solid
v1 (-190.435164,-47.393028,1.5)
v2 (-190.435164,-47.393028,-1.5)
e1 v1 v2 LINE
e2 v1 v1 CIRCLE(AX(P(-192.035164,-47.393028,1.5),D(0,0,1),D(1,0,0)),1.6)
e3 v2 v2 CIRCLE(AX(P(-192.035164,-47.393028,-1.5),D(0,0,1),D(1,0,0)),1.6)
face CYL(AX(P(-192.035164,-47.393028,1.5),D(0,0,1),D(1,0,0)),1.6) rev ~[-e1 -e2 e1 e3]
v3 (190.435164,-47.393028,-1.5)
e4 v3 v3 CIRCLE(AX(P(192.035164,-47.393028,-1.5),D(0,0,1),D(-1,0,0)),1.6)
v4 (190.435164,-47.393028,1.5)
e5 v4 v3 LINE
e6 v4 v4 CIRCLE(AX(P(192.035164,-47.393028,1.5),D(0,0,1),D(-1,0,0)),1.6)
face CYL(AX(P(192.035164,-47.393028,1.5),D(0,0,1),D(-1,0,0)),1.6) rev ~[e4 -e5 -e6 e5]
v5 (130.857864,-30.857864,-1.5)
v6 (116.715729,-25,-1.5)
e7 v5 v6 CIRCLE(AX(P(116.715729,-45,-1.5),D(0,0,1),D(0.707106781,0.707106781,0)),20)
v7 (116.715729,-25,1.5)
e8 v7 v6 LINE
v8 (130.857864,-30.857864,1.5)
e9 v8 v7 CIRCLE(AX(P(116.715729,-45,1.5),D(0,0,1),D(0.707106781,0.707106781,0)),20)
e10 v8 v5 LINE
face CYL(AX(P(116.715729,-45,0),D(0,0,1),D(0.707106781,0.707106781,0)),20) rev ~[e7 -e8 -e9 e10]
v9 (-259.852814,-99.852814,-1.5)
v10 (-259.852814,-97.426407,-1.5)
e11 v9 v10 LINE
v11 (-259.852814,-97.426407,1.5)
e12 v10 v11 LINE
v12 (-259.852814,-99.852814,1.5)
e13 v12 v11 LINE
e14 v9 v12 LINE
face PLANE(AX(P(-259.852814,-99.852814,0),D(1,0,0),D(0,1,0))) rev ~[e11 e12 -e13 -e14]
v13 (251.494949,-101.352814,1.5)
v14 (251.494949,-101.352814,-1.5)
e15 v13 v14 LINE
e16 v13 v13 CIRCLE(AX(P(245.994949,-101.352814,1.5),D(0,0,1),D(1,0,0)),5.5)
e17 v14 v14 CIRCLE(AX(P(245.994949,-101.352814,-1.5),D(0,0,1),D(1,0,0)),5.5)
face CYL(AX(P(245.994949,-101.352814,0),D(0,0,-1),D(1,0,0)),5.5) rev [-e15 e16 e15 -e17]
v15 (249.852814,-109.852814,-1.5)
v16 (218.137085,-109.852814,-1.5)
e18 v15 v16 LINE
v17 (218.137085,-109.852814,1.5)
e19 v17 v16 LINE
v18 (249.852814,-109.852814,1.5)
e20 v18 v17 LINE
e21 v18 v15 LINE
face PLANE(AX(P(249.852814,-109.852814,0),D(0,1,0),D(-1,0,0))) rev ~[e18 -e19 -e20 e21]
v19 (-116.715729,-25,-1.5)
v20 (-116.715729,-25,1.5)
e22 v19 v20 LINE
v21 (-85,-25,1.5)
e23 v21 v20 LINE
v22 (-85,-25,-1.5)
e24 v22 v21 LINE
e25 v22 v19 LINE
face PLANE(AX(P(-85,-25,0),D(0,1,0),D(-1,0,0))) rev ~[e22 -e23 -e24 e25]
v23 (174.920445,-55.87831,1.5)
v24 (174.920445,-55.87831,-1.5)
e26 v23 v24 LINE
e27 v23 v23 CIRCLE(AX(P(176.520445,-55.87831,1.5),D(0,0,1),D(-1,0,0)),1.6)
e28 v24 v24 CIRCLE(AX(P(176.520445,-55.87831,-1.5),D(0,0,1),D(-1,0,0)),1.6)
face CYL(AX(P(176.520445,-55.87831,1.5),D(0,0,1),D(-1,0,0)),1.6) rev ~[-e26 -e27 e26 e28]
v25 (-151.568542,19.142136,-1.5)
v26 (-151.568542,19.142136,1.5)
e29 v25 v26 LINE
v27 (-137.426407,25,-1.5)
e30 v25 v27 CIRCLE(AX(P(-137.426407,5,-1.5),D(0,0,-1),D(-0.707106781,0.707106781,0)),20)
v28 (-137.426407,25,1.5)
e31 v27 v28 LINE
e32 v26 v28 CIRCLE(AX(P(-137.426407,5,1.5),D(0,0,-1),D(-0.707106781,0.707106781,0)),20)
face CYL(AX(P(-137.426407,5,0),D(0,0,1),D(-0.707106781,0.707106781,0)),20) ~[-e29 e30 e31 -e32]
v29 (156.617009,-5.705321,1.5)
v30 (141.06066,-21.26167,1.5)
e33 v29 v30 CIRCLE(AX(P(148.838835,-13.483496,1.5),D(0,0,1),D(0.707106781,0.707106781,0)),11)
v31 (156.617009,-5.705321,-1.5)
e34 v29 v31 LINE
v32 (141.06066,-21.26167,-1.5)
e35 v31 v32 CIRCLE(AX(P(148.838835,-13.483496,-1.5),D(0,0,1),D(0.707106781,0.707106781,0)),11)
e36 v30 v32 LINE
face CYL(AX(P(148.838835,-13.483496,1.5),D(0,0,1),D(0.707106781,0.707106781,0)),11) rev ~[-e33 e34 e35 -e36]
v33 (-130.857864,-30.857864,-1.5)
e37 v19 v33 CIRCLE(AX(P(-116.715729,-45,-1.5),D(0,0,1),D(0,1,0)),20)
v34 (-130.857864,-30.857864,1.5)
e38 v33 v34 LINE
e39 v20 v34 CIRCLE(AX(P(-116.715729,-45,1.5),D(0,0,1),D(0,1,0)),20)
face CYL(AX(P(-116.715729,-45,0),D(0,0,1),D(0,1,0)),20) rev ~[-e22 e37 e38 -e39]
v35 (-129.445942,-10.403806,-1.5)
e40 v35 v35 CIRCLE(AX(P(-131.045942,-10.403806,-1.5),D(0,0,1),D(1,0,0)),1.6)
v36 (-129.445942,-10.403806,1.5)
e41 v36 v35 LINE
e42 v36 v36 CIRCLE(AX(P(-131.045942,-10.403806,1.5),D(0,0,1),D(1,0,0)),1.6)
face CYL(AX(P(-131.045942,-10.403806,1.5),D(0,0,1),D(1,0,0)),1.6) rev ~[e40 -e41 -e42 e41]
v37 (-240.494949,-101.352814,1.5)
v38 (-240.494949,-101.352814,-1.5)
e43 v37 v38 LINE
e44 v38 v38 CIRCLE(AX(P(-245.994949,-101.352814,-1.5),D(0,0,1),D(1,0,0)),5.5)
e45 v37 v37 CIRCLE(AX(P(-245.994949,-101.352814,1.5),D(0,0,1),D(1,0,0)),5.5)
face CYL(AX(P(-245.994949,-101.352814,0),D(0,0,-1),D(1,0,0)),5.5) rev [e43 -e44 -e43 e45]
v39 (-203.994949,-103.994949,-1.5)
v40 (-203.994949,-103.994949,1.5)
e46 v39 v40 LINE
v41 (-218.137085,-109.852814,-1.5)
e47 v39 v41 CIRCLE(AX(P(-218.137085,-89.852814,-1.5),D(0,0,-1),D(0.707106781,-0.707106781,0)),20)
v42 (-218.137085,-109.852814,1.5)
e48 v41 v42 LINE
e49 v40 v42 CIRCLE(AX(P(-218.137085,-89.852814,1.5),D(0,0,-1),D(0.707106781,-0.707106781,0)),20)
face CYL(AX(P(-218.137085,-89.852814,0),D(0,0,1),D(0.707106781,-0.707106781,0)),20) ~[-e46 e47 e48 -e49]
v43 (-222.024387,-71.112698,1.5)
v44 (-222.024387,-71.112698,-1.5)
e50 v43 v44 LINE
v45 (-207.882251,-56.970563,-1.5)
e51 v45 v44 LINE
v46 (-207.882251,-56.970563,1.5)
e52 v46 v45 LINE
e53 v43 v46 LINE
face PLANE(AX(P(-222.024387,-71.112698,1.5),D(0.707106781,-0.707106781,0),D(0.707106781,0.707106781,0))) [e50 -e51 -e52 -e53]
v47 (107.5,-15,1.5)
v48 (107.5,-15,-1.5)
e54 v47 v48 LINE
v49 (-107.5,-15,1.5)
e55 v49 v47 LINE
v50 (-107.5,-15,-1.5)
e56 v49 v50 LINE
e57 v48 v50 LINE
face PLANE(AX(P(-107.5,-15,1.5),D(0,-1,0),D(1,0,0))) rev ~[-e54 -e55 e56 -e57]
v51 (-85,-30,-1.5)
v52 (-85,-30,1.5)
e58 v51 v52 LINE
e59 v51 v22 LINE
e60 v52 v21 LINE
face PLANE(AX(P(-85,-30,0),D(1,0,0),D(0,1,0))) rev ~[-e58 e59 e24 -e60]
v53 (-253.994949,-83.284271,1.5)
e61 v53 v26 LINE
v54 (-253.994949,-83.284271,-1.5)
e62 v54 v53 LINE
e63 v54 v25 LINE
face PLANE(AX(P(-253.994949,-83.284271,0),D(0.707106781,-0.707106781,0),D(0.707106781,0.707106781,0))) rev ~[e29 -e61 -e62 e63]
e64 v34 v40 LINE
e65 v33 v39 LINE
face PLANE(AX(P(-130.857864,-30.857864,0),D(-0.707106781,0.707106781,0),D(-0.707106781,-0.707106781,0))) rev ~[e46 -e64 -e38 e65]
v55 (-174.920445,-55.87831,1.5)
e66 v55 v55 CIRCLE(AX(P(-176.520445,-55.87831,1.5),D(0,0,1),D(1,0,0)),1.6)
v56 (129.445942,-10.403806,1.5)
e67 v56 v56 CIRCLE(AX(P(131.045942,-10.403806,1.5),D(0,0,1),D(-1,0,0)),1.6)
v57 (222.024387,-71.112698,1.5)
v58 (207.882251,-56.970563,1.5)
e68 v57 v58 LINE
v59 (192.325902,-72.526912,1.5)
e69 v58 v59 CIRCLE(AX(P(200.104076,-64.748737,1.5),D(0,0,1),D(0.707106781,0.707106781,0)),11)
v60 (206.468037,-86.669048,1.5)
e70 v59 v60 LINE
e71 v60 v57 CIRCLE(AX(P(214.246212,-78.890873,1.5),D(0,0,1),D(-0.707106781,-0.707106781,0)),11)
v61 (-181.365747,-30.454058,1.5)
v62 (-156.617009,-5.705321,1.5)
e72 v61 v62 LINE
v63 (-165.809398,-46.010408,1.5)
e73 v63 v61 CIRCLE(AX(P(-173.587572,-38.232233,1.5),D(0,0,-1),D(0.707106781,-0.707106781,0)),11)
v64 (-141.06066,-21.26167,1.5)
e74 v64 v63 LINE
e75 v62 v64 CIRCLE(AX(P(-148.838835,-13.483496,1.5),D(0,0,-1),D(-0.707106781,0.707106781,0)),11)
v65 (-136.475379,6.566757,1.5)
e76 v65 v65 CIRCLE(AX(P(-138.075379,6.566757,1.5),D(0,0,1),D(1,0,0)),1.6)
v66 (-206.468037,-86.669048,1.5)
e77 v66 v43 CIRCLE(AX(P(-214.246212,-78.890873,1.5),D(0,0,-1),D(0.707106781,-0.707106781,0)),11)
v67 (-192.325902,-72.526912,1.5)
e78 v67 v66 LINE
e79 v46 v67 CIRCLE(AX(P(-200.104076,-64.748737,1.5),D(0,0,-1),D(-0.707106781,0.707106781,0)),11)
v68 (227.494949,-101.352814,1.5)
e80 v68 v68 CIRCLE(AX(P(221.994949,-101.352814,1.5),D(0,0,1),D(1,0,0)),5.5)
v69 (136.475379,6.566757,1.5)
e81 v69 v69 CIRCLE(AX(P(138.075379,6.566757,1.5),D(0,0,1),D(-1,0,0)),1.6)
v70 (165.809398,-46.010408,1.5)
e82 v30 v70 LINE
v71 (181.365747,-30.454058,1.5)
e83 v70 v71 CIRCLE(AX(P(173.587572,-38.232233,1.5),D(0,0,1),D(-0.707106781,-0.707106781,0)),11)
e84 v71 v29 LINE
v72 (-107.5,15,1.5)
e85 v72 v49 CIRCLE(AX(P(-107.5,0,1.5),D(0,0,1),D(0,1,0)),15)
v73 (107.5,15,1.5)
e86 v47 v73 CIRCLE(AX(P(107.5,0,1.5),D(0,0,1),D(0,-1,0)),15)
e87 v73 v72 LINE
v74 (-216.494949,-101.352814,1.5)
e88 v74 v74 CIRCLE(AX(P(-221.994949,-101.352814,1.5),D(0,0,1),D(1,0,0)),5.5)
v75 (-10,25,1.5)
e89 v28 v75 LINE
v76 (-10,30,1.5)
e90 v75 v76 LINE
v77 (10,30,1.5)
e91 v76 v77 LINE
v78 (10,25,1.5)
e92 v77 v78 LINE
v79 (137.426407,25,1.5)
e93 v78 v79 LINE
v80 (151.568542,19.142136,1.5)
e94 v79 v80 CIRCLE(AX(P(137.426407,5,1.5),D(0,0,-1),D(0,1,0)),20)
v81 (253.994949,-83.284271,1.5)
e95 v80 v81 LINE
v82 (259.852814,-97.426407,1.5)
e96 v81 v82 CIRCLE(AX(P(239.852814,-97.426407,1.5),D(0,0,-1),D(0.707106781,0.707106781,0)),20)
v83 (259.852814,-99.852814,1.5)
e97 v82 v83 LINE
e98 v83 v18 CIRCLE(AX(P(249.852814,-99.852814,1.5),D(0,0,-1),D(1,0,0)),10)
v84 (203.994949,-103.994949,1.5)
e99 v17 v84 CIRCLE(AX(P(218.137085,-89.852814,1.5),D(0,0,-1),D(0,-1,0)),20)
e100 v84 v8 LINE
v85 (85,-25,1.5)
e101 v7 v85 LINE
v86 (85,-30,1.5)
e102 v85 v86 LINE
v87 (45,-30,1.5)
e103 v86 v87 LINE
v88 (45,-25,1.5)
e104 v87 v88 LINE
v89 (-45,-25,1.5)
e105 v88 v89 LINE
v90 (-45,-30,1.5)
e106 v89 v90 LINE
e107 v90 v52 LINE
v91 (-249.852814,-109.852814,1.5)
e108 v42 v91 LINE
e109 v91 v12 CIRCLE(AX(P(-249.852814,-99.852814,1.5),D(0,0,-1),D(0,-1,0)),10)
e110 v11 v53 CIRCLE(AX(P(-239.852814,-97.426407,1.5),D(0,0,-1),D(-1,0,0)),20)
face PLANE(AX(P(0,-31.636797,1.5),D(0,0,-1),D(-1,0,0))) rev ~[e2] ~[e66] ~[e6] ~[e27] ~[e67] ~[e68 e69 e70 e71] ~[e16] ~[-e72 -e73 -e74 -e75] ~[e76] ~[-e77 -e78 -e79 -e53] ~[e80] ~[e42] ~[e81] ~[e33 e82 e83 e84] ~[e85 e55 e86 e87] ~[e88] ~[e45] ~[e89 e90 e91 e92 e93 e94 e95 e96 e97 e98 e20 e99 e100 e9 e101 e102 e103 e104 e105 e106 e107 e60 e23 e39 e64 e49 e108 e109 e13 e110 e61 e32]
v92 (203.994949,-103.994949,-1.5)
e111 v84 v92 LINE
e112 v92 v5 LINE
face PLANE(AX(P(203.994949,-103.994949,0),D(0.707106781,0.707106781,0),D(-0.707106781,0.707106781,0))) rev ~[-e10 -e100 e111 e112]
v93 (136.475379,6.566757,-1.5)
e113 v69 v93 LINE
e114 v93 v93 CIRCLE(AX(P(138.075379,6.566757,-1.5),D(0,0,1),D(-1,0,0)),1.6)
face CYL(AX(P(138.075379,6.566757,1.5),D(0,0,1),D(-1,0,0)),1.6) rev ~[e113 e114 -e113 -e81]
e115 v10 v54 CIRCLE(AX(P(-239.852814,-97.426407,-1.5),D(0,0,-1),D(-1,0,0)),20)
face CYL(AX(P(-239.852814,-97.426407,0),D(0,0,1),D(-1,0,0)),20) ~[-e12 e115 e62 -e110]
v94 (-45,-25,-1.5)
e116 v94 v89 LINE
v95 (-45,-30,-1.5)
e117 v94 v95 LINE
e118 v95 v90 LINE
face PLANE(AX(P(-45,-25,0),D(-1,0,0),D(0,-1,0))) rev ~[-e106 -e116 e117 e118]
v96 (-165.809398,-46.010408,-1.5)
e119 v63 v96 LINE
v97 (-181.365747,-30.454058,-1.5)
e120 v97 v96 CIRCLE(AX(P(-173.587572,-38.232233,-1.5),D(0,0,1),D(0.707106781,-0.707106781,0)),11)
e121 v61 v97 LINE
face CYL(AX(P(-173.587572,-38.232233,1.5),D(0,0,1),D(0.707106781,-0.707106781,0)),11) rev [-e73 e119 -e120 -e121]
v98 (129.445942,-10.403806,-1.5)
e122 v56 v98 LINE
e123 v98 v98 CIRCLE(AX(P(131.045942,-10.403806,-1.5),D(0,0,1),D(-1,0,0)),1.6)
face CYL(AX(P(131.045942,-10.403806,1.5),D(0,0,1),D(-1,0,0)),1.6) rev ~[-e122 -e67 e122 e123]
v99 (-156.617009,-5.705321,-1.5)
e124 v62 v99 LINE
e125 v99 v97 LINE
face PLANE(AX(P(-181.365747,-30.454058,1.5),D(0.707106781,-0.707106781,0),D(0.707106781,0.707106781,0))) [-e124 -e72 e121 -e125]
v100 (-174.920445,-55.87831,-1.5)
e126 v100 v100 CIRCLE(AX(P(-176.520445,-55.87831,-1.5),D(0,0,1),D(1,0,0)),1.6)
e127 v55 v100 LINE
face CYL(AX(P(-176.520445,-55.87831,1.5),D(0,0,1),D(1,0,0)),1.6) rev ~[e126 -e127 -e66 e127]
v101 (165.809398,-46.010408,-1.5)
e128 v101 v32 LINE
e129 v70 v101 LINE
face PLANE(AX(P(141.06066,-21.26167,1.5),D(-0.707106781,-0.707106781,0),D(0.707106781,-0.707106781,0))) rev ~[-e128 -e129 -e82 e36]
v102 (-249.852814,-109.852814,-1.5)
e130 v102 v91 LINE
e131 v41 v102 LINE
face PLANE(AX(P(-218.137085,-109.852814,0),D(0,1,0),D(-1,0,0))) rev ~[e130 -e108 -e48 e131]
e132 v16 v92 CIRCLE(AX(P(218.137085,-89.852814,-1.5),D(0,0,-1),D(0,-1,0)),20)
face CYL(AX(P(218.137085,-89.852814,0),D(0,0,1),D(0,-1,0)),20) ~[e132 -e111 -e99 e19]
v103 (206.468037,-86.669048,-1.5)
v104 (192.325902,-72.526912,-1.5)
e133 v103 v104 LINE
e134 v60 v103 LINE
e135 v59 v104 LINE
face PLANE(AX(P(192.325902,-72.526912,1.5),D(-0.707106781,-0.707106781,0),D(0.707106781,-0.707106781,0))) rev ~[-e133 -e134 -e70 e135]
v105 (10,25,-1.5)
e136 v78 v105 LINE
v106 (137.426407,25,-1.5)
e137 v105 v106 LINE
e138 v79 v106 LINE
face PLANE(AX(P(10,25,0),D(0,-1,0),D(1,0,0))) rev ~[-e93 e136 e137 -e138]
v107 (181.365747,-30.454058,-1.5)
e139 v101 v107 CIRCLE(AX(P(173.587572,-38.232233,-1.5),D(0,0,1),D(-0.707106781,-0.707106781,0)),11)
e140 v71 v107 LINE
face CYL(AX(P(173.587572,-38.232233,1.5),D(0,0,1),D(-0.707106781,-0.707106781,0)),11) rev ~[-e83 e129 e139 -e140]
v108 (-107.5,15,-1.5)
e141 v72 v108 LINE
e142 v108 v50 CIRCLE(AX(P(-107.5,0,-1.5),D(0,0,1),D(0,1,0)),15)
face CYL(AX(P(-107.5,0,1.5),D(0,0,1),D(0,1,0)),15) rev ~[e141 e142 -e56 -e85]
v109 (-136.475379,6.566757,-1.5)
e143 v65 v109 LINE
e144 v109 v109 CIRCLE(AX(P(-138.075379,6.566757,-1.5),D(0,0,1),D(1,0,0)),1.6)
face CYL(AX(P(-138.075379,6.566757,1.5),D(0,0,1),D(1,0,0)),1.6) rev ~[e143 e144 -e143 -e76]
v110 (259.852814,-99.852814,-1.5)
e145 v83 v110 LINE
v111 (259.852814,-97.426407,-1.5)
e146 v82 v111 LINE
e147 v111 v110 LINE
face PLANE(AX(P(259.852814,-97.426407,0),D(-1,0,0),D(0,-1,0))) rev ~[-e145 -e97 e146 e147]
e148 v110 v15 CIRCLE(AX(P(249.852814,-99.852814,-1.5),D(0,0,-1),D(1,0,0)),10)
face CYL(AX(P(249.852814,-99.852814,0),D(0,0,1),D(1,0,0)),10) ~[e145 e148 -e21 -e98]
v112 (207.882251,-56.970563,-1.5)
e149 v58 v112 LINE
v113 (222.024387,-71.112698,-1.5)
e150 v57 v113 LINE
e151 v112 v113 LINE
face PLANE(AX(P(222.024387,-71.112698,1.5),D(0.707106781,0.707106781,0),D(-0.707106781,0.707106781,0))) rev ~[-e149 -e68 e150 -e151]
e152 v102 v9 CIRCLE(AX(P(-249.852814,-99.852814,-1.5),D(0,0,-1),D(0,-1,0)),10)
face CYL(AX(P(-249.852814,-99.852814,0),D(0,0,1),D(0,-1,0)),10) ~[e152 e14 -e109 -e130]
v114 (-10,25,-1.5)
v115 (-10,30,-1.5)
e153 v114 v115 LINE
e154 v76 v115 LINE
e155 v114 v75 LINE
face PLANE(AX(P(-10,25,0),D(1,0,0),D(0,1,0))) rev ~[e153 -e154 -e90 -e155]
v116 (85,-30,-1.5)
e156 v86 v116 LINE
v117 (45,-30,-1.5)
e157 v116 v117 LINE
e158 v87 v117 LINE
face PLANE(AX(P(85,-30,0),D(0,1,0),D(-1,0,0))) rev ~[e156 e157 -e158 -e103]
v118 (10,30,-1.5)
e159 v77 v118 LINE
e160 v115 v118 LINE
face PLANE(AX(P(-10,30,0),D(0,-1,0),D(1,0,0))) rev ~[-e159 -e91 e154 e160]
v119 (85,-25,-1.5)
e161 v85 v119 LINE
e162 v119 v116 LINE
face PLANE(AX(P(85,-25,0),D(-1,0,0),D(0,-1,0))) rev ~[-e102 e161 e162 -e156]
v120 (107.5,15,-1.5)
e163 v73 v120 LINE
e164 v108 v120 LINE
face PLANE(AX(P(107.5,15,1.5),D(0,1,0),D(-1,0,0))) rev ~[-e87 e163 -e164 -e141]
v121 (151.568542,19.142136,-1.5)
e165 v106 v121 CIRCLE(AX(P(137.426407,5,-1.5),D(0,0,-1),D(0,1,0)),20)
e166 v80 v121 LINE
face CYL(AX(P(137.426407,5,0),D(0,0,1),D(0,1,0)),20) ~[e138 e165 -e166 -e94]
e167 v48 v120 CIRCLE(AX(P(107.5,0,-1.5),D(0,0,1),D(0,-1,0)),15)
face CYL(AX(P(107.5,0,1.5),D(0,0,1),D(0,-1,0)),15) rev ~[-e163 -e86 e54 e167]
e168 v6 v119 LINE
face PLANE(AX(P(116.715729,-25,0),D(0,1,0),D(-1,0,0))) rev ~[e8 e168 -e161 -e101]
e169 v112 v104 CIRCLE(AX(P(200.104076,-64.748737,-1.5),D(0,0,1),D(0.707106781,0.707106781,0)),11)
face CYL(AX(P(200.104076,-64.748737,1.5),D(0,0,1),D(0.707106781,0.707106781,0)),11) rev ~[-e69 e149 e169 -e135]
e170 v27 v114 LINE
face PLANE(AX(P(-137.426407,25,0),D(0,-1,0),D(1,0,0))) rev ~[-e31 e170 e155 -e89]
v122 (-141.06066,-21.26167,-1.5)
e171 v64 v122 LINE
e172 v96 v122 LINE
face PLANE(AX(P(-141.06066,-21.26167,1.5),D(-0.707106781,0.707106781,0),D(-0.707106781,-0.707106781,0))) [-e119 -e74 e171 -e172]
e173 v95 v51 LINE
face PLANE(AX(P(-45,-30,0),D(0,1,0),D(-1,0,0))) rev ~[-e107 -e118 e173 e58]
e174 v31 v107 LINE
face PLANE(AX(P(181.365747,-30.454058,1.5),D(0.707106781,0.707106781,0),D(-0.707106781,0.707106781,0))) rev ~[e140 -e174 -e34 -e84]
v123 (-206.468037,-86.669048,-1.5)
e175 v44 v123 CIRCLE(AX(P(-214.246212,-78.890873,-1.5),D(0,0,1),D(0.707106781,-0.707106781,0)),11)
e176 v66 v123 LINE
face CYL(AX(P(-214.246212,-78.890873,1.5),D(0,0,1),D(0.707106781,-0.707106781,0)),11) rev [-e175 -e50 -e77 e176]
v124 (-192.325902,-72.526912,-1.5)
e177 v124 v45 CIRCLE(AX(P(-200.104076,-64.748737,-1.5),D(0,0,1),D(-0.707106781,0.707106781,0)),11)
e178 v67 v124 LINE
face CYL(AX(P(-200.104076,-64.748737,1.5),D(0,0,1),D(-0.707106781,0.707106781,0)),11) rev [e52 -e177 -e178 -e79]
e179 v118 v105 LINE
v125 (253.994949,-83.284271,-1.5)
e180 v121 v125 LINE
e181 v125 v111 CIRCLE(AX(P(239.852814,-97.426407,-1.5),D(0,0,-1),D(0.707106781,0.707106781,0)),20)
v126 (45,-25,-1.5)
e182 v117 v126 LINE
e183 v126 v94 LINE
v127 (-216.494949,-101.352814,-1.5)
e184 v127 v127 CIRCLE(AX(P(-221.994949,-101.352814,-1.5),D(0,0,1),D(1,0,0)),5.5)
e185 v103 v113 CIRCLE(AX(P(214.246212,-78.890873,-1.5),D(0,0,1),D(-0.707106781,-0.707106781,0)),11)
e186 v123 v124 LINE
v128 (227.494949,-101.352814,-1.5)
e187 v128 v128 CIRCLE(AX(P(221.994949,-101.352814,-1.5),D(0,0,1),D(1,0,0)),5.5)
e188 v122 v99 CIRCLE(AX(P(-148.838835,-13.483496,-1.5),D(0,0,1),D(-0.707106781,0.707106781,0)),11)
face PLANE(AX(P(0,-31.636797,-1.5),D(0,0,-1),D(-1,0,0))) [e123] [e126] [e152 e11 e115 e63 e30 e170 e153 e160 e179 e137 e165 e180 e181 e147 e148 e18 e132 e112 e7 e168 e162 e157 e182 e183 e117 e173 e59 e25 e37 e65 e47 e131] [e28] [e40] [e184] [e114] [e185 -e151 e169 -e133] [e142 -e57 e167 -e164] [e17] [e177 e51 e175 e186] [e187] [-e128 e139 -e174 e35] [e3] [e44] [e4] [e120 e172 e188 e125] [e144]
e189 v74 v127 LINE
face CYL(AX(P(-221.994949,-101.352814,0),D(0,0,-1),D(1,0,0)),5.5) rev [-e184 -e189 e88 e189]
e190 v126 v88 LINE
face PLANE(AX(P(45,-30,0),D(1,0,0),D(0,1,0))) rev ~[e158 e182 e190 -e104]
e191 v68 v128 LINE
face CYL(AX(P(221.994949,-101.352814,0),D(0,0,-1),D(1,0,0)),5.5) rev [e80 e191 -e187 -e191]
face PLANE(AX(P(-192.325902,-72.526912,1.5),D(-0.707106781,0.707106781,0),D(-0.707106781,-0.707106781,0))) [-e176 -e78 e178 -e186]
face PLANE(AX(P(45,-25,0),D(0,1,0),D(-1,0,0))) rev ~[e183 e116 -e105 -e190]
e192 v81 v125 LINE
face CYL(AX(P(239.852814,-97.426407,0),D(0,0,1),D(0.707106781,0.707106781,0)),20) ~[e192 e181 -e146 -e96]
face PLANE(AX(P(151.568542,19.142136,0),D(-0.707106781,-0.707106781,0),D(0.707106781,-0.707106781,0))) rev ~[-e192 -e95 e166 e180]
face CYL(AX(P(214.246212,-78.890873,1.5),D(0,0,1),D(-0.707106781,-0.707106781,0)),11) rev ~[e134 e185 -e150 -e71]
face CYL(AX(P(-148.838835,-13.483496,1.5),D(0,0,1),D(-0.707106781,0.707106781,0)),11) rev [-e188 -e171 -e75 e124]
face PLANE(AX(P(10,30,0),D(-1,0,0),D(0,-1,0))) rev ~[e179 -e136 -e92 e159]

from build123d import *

# Parameters (mm, degrees)
SKETCH_1_R          = 5.5
EXTRUDE_1_DEPTH     = 1.5
CUT_EXTRUDE_6_DEPTH = 283.134941999
SKETCH_2_5_R        = 1.6
CUT_EXTRUDE_7_DEPTH = 283.134941999


with BuildPart() as part:
    # 草图1 → 凸台-拉伸1 (new, symmetric)
    with BuildSketch(Plane.XY):
        with BuildLine():
            Line((-10, 25), (-125, 25))
            Line((-125, 25), (-137.426406871, 25))
            ThreePointArc((-137.426406871, 25), (-145.080075518, 23.47759065), (-151.568542495, 19.142135624))
            Line((-151.568542495, 19.142135624), (-202.781745931, -32.071067812))
            Line((-202.781745931, -32.071067812), (-253.994949366, -83.284271247))
            ThreePointArc((-253.994949366, -83.284271247), (-258.330404393, -89.772738224), (-259.852813742, -97.426406871))
            Line((-259.852813742, -97.426406871), (-259.852813742, -99.852813742))
            ThreePointArc((-259.852813742, -99.852813742), (-256.923881554, -106.923881554), (-249.852813742, -109.852813742))
            Line((-249.852813742, -109.852813742), (-245.994949366, -109.852813742))
            Line((-245.994949366, -109.852813742), (-233.994949366, -109.852813742))
            Line((-233.994949366, -109.852813742), (-218.13708499, -109.852813742))
            ThreePointArc((-218.13708499, -109.852813742), (-210.483416343, -108.330404393), (-203.994949366, -103.994949366))
            Line((-203.994949366, -103.994949366), (-130.857864376, -30.857864376))
            ThreePointArc((-130.857864376, -30.857864376), (-124.3693974, -26.52240935), (-116.715728753, -25))
            Line((-116.715728753, -25), (-85, -25))
            Line((-85, -25), (-85, -30))
            Line((-85, -30), (-65, -30))
            Line((-65, -30), (-45, -30))
            Line((-45, -30), (-45, -25))
            Line((-45, -25), (0, -25))
            Line((0, -25), (45, -25))
            Line((45, -25), (45, -30))
            Line((45, -30), (65, -30))
            Line((65, -30), (85, -30))
            Line((85, -30), (85, -25))
            Line((85, -25), (116.715728753, -25))
            ThreePointArc((116.715728753, -25), (124.3693974, -26.52240935), (130.857864376, -30.857864376))
            Line((130.857864376, -30.857864376), (203.994949366, -103.994949366))
            ThreePointArc((203.994949366, -103.994949366), (210.483416343, -108.330404393), (218.13708499, -109.852813742))
            Line((218.13708499, -109.852813742), (249.852813742, -109.852813742))
            ThreePointArc((249.852813742, -109.852813742), (256.923881554, -106.923881554), (259.852813742, -99.852813742))
            Line((259.852813742, -99.852813742), (259.852813742, -97.426406871))
            ThreePointArc((259.852813742, -97.426406871), (258.330404393, -89.772738224), (253.994949366, -83.284271247))
            Line((253.994949366, -83.284271247), (202.781745931, -32.071067812))
            Line((202.781745931, -32.071067812), (151.568542495, 19.142135624))
            ThreePointArc((151.568542495, 19.142135624), (145.080075518, 23.47759065), (137.426406871, 25))
            Line((137.426406871, 25), (125, 25))
            Line((125, 25), (10, 25))
            Line((10, 25), (10, 30))
            Line((10, 30), (-10, 30))
            Line((-10, 30), (-10, 25))
        make_face()
        with BuildLine():
            ThreePointArc((-240.494949366, -101.352813742), (-242.10586207, -105.241901039), (-245.994949366, -106.852813742))
            ThreePointArc((-245.994949366, -106.852813742), (-249.884036663, -97.463726446), (-240.494949366, -101.352813742))
        make_face(mode=Mode.SUBTRACT)
        with Locations((-221.994949366, -101.352813742)):
            Circle(SKETCH_1_R, mode=Mode.SUBTRACT)
        with Locations((221.994949366, -101.352813742)):
            Circle(SKETCH_1_R, mode=Mode.SUBTRACT)
        with Locations((245.994949366, -101.352813742)):
            Circle(SKETCH_1_R, mode=Mode.SUBTRACT)
    extrude(amount=EXTRUDE_1_DEPTH, both=True)

    # 草图2 → 切除-拉伸6 (cut, through all)
    with BuildSketch(Plane.XY.offset(1.5)):
        with BuildLine():
            Line((107.5, 15), (-107.5, 15))
            ThreePointArc((-107.5, 15), (-122.5, 0), (-107.5, -15))
            Line((-107.5, -15), (107.5, -15))
            ThreePointArc((107.5, -15), (122.5, 0), (107.5, 15))
        make_face()
    extrude(amount=-CUT_EXTRUDE_6_DEPTH, mode=Mode.SUBTRACT)

    # 草图2<5> → 切除-拉伸7 (cut, through all)
    with BuildSketch(Plane.XY.offset(1.5)):
        with Locations((-138.075378798, 6.566756826)):
            Circle(SKETCH_2_5_R)
        with Locations((-131.045941546, -10.403805922)):
            Circle(SKETCH_2_5_R)
        with Locations((-176.520445456, -55.878309832)):
            Circle(SKETCH_2_5_R)
        with Locations((-192.035164082, -47.393028458)):
            Circle(SKETCH_2_5_R)
        with Locations((131.045941546, -10.403805922)):
            Circle(SKETCH_2_5_R)
        with Locations((138.075378798, 6.566756826)):
            Circle(SKETCH_2_5_R)
        with Locations((176.520445456, -55.878309832)):
            Circle(SKETCH_2_5_R)
        with Locations((192.035164082, -47.393028458)):
            Circle(SKETCH_2_5_R)
        with BuildLine():
            Line((-141.060660172, -21.261670299), (-165.809397513, -46.01040764))
            ThreePointArc((-165.809397513, -46.01040764), (-181.365746699, -46.01040764), (-181.365746699, -30.454058454))
            Line((-181.365746699, -30.454058454), (-156.617009358, -5.705321112))
            ThreePointArc((-156.617009358, -5.705321112), (-141.060660172, -5.705321112), (-141.060660172, -21.261670299))
        make_face()
        with BuildLine():
            Line((-222.024386618, -71.112698372), (-207.882250994, -56.970562748))
            ThreePointArc((-207.882250994, -56.970562748), (-192.325901808, -56.970562748), (-192.325901808, -72.526911935))
            Line((-192.325901808, -72.526911935), (-206.468037432, -86.669047558))
            ThreePointArc((-206.468037432, -86.669047558), (-222.024386618, -86.669047558), (-222.024386618, -71.112698372))
        make_face()
        with BuildLine():
            Line((141.060660172, -21.261670299), (165.809397513, -46.01040764))
            ThreePointArc((165.809397513, -46.01040764), (181.365746699, -46.01040764), (181.365746699, -30.454058454))
            Line((181.365746699, -30.454058454), (156.617009358, -5.705321112))
            ThreePointArc((156.617009358, -5.705321112), (141.060660172, -5.705321112), (141.060660172, -21.261670299))
        make_face()
        with BuildLine():
            Line((222.024386618, -71.112698372), (207.882250994, -56.970562748))
            ThreePointArc((207.882250994, -56.970562748), (192.325901808, -56.970562748), (192.325901808, -72.526911935))
            Line((192.325901808, -72.526911935), (206.468037432, -86.669047558))
            ThreePointArc((206.468037432, -86.669047558), (222.024386618, -86.669047558), (222.024386618, -71.112698372))
        make_face()
    extrude(amount=-CUT_EXTRUDE_7_DEPTH, mode=Mode.SUBTRACT)


solid = part.part
